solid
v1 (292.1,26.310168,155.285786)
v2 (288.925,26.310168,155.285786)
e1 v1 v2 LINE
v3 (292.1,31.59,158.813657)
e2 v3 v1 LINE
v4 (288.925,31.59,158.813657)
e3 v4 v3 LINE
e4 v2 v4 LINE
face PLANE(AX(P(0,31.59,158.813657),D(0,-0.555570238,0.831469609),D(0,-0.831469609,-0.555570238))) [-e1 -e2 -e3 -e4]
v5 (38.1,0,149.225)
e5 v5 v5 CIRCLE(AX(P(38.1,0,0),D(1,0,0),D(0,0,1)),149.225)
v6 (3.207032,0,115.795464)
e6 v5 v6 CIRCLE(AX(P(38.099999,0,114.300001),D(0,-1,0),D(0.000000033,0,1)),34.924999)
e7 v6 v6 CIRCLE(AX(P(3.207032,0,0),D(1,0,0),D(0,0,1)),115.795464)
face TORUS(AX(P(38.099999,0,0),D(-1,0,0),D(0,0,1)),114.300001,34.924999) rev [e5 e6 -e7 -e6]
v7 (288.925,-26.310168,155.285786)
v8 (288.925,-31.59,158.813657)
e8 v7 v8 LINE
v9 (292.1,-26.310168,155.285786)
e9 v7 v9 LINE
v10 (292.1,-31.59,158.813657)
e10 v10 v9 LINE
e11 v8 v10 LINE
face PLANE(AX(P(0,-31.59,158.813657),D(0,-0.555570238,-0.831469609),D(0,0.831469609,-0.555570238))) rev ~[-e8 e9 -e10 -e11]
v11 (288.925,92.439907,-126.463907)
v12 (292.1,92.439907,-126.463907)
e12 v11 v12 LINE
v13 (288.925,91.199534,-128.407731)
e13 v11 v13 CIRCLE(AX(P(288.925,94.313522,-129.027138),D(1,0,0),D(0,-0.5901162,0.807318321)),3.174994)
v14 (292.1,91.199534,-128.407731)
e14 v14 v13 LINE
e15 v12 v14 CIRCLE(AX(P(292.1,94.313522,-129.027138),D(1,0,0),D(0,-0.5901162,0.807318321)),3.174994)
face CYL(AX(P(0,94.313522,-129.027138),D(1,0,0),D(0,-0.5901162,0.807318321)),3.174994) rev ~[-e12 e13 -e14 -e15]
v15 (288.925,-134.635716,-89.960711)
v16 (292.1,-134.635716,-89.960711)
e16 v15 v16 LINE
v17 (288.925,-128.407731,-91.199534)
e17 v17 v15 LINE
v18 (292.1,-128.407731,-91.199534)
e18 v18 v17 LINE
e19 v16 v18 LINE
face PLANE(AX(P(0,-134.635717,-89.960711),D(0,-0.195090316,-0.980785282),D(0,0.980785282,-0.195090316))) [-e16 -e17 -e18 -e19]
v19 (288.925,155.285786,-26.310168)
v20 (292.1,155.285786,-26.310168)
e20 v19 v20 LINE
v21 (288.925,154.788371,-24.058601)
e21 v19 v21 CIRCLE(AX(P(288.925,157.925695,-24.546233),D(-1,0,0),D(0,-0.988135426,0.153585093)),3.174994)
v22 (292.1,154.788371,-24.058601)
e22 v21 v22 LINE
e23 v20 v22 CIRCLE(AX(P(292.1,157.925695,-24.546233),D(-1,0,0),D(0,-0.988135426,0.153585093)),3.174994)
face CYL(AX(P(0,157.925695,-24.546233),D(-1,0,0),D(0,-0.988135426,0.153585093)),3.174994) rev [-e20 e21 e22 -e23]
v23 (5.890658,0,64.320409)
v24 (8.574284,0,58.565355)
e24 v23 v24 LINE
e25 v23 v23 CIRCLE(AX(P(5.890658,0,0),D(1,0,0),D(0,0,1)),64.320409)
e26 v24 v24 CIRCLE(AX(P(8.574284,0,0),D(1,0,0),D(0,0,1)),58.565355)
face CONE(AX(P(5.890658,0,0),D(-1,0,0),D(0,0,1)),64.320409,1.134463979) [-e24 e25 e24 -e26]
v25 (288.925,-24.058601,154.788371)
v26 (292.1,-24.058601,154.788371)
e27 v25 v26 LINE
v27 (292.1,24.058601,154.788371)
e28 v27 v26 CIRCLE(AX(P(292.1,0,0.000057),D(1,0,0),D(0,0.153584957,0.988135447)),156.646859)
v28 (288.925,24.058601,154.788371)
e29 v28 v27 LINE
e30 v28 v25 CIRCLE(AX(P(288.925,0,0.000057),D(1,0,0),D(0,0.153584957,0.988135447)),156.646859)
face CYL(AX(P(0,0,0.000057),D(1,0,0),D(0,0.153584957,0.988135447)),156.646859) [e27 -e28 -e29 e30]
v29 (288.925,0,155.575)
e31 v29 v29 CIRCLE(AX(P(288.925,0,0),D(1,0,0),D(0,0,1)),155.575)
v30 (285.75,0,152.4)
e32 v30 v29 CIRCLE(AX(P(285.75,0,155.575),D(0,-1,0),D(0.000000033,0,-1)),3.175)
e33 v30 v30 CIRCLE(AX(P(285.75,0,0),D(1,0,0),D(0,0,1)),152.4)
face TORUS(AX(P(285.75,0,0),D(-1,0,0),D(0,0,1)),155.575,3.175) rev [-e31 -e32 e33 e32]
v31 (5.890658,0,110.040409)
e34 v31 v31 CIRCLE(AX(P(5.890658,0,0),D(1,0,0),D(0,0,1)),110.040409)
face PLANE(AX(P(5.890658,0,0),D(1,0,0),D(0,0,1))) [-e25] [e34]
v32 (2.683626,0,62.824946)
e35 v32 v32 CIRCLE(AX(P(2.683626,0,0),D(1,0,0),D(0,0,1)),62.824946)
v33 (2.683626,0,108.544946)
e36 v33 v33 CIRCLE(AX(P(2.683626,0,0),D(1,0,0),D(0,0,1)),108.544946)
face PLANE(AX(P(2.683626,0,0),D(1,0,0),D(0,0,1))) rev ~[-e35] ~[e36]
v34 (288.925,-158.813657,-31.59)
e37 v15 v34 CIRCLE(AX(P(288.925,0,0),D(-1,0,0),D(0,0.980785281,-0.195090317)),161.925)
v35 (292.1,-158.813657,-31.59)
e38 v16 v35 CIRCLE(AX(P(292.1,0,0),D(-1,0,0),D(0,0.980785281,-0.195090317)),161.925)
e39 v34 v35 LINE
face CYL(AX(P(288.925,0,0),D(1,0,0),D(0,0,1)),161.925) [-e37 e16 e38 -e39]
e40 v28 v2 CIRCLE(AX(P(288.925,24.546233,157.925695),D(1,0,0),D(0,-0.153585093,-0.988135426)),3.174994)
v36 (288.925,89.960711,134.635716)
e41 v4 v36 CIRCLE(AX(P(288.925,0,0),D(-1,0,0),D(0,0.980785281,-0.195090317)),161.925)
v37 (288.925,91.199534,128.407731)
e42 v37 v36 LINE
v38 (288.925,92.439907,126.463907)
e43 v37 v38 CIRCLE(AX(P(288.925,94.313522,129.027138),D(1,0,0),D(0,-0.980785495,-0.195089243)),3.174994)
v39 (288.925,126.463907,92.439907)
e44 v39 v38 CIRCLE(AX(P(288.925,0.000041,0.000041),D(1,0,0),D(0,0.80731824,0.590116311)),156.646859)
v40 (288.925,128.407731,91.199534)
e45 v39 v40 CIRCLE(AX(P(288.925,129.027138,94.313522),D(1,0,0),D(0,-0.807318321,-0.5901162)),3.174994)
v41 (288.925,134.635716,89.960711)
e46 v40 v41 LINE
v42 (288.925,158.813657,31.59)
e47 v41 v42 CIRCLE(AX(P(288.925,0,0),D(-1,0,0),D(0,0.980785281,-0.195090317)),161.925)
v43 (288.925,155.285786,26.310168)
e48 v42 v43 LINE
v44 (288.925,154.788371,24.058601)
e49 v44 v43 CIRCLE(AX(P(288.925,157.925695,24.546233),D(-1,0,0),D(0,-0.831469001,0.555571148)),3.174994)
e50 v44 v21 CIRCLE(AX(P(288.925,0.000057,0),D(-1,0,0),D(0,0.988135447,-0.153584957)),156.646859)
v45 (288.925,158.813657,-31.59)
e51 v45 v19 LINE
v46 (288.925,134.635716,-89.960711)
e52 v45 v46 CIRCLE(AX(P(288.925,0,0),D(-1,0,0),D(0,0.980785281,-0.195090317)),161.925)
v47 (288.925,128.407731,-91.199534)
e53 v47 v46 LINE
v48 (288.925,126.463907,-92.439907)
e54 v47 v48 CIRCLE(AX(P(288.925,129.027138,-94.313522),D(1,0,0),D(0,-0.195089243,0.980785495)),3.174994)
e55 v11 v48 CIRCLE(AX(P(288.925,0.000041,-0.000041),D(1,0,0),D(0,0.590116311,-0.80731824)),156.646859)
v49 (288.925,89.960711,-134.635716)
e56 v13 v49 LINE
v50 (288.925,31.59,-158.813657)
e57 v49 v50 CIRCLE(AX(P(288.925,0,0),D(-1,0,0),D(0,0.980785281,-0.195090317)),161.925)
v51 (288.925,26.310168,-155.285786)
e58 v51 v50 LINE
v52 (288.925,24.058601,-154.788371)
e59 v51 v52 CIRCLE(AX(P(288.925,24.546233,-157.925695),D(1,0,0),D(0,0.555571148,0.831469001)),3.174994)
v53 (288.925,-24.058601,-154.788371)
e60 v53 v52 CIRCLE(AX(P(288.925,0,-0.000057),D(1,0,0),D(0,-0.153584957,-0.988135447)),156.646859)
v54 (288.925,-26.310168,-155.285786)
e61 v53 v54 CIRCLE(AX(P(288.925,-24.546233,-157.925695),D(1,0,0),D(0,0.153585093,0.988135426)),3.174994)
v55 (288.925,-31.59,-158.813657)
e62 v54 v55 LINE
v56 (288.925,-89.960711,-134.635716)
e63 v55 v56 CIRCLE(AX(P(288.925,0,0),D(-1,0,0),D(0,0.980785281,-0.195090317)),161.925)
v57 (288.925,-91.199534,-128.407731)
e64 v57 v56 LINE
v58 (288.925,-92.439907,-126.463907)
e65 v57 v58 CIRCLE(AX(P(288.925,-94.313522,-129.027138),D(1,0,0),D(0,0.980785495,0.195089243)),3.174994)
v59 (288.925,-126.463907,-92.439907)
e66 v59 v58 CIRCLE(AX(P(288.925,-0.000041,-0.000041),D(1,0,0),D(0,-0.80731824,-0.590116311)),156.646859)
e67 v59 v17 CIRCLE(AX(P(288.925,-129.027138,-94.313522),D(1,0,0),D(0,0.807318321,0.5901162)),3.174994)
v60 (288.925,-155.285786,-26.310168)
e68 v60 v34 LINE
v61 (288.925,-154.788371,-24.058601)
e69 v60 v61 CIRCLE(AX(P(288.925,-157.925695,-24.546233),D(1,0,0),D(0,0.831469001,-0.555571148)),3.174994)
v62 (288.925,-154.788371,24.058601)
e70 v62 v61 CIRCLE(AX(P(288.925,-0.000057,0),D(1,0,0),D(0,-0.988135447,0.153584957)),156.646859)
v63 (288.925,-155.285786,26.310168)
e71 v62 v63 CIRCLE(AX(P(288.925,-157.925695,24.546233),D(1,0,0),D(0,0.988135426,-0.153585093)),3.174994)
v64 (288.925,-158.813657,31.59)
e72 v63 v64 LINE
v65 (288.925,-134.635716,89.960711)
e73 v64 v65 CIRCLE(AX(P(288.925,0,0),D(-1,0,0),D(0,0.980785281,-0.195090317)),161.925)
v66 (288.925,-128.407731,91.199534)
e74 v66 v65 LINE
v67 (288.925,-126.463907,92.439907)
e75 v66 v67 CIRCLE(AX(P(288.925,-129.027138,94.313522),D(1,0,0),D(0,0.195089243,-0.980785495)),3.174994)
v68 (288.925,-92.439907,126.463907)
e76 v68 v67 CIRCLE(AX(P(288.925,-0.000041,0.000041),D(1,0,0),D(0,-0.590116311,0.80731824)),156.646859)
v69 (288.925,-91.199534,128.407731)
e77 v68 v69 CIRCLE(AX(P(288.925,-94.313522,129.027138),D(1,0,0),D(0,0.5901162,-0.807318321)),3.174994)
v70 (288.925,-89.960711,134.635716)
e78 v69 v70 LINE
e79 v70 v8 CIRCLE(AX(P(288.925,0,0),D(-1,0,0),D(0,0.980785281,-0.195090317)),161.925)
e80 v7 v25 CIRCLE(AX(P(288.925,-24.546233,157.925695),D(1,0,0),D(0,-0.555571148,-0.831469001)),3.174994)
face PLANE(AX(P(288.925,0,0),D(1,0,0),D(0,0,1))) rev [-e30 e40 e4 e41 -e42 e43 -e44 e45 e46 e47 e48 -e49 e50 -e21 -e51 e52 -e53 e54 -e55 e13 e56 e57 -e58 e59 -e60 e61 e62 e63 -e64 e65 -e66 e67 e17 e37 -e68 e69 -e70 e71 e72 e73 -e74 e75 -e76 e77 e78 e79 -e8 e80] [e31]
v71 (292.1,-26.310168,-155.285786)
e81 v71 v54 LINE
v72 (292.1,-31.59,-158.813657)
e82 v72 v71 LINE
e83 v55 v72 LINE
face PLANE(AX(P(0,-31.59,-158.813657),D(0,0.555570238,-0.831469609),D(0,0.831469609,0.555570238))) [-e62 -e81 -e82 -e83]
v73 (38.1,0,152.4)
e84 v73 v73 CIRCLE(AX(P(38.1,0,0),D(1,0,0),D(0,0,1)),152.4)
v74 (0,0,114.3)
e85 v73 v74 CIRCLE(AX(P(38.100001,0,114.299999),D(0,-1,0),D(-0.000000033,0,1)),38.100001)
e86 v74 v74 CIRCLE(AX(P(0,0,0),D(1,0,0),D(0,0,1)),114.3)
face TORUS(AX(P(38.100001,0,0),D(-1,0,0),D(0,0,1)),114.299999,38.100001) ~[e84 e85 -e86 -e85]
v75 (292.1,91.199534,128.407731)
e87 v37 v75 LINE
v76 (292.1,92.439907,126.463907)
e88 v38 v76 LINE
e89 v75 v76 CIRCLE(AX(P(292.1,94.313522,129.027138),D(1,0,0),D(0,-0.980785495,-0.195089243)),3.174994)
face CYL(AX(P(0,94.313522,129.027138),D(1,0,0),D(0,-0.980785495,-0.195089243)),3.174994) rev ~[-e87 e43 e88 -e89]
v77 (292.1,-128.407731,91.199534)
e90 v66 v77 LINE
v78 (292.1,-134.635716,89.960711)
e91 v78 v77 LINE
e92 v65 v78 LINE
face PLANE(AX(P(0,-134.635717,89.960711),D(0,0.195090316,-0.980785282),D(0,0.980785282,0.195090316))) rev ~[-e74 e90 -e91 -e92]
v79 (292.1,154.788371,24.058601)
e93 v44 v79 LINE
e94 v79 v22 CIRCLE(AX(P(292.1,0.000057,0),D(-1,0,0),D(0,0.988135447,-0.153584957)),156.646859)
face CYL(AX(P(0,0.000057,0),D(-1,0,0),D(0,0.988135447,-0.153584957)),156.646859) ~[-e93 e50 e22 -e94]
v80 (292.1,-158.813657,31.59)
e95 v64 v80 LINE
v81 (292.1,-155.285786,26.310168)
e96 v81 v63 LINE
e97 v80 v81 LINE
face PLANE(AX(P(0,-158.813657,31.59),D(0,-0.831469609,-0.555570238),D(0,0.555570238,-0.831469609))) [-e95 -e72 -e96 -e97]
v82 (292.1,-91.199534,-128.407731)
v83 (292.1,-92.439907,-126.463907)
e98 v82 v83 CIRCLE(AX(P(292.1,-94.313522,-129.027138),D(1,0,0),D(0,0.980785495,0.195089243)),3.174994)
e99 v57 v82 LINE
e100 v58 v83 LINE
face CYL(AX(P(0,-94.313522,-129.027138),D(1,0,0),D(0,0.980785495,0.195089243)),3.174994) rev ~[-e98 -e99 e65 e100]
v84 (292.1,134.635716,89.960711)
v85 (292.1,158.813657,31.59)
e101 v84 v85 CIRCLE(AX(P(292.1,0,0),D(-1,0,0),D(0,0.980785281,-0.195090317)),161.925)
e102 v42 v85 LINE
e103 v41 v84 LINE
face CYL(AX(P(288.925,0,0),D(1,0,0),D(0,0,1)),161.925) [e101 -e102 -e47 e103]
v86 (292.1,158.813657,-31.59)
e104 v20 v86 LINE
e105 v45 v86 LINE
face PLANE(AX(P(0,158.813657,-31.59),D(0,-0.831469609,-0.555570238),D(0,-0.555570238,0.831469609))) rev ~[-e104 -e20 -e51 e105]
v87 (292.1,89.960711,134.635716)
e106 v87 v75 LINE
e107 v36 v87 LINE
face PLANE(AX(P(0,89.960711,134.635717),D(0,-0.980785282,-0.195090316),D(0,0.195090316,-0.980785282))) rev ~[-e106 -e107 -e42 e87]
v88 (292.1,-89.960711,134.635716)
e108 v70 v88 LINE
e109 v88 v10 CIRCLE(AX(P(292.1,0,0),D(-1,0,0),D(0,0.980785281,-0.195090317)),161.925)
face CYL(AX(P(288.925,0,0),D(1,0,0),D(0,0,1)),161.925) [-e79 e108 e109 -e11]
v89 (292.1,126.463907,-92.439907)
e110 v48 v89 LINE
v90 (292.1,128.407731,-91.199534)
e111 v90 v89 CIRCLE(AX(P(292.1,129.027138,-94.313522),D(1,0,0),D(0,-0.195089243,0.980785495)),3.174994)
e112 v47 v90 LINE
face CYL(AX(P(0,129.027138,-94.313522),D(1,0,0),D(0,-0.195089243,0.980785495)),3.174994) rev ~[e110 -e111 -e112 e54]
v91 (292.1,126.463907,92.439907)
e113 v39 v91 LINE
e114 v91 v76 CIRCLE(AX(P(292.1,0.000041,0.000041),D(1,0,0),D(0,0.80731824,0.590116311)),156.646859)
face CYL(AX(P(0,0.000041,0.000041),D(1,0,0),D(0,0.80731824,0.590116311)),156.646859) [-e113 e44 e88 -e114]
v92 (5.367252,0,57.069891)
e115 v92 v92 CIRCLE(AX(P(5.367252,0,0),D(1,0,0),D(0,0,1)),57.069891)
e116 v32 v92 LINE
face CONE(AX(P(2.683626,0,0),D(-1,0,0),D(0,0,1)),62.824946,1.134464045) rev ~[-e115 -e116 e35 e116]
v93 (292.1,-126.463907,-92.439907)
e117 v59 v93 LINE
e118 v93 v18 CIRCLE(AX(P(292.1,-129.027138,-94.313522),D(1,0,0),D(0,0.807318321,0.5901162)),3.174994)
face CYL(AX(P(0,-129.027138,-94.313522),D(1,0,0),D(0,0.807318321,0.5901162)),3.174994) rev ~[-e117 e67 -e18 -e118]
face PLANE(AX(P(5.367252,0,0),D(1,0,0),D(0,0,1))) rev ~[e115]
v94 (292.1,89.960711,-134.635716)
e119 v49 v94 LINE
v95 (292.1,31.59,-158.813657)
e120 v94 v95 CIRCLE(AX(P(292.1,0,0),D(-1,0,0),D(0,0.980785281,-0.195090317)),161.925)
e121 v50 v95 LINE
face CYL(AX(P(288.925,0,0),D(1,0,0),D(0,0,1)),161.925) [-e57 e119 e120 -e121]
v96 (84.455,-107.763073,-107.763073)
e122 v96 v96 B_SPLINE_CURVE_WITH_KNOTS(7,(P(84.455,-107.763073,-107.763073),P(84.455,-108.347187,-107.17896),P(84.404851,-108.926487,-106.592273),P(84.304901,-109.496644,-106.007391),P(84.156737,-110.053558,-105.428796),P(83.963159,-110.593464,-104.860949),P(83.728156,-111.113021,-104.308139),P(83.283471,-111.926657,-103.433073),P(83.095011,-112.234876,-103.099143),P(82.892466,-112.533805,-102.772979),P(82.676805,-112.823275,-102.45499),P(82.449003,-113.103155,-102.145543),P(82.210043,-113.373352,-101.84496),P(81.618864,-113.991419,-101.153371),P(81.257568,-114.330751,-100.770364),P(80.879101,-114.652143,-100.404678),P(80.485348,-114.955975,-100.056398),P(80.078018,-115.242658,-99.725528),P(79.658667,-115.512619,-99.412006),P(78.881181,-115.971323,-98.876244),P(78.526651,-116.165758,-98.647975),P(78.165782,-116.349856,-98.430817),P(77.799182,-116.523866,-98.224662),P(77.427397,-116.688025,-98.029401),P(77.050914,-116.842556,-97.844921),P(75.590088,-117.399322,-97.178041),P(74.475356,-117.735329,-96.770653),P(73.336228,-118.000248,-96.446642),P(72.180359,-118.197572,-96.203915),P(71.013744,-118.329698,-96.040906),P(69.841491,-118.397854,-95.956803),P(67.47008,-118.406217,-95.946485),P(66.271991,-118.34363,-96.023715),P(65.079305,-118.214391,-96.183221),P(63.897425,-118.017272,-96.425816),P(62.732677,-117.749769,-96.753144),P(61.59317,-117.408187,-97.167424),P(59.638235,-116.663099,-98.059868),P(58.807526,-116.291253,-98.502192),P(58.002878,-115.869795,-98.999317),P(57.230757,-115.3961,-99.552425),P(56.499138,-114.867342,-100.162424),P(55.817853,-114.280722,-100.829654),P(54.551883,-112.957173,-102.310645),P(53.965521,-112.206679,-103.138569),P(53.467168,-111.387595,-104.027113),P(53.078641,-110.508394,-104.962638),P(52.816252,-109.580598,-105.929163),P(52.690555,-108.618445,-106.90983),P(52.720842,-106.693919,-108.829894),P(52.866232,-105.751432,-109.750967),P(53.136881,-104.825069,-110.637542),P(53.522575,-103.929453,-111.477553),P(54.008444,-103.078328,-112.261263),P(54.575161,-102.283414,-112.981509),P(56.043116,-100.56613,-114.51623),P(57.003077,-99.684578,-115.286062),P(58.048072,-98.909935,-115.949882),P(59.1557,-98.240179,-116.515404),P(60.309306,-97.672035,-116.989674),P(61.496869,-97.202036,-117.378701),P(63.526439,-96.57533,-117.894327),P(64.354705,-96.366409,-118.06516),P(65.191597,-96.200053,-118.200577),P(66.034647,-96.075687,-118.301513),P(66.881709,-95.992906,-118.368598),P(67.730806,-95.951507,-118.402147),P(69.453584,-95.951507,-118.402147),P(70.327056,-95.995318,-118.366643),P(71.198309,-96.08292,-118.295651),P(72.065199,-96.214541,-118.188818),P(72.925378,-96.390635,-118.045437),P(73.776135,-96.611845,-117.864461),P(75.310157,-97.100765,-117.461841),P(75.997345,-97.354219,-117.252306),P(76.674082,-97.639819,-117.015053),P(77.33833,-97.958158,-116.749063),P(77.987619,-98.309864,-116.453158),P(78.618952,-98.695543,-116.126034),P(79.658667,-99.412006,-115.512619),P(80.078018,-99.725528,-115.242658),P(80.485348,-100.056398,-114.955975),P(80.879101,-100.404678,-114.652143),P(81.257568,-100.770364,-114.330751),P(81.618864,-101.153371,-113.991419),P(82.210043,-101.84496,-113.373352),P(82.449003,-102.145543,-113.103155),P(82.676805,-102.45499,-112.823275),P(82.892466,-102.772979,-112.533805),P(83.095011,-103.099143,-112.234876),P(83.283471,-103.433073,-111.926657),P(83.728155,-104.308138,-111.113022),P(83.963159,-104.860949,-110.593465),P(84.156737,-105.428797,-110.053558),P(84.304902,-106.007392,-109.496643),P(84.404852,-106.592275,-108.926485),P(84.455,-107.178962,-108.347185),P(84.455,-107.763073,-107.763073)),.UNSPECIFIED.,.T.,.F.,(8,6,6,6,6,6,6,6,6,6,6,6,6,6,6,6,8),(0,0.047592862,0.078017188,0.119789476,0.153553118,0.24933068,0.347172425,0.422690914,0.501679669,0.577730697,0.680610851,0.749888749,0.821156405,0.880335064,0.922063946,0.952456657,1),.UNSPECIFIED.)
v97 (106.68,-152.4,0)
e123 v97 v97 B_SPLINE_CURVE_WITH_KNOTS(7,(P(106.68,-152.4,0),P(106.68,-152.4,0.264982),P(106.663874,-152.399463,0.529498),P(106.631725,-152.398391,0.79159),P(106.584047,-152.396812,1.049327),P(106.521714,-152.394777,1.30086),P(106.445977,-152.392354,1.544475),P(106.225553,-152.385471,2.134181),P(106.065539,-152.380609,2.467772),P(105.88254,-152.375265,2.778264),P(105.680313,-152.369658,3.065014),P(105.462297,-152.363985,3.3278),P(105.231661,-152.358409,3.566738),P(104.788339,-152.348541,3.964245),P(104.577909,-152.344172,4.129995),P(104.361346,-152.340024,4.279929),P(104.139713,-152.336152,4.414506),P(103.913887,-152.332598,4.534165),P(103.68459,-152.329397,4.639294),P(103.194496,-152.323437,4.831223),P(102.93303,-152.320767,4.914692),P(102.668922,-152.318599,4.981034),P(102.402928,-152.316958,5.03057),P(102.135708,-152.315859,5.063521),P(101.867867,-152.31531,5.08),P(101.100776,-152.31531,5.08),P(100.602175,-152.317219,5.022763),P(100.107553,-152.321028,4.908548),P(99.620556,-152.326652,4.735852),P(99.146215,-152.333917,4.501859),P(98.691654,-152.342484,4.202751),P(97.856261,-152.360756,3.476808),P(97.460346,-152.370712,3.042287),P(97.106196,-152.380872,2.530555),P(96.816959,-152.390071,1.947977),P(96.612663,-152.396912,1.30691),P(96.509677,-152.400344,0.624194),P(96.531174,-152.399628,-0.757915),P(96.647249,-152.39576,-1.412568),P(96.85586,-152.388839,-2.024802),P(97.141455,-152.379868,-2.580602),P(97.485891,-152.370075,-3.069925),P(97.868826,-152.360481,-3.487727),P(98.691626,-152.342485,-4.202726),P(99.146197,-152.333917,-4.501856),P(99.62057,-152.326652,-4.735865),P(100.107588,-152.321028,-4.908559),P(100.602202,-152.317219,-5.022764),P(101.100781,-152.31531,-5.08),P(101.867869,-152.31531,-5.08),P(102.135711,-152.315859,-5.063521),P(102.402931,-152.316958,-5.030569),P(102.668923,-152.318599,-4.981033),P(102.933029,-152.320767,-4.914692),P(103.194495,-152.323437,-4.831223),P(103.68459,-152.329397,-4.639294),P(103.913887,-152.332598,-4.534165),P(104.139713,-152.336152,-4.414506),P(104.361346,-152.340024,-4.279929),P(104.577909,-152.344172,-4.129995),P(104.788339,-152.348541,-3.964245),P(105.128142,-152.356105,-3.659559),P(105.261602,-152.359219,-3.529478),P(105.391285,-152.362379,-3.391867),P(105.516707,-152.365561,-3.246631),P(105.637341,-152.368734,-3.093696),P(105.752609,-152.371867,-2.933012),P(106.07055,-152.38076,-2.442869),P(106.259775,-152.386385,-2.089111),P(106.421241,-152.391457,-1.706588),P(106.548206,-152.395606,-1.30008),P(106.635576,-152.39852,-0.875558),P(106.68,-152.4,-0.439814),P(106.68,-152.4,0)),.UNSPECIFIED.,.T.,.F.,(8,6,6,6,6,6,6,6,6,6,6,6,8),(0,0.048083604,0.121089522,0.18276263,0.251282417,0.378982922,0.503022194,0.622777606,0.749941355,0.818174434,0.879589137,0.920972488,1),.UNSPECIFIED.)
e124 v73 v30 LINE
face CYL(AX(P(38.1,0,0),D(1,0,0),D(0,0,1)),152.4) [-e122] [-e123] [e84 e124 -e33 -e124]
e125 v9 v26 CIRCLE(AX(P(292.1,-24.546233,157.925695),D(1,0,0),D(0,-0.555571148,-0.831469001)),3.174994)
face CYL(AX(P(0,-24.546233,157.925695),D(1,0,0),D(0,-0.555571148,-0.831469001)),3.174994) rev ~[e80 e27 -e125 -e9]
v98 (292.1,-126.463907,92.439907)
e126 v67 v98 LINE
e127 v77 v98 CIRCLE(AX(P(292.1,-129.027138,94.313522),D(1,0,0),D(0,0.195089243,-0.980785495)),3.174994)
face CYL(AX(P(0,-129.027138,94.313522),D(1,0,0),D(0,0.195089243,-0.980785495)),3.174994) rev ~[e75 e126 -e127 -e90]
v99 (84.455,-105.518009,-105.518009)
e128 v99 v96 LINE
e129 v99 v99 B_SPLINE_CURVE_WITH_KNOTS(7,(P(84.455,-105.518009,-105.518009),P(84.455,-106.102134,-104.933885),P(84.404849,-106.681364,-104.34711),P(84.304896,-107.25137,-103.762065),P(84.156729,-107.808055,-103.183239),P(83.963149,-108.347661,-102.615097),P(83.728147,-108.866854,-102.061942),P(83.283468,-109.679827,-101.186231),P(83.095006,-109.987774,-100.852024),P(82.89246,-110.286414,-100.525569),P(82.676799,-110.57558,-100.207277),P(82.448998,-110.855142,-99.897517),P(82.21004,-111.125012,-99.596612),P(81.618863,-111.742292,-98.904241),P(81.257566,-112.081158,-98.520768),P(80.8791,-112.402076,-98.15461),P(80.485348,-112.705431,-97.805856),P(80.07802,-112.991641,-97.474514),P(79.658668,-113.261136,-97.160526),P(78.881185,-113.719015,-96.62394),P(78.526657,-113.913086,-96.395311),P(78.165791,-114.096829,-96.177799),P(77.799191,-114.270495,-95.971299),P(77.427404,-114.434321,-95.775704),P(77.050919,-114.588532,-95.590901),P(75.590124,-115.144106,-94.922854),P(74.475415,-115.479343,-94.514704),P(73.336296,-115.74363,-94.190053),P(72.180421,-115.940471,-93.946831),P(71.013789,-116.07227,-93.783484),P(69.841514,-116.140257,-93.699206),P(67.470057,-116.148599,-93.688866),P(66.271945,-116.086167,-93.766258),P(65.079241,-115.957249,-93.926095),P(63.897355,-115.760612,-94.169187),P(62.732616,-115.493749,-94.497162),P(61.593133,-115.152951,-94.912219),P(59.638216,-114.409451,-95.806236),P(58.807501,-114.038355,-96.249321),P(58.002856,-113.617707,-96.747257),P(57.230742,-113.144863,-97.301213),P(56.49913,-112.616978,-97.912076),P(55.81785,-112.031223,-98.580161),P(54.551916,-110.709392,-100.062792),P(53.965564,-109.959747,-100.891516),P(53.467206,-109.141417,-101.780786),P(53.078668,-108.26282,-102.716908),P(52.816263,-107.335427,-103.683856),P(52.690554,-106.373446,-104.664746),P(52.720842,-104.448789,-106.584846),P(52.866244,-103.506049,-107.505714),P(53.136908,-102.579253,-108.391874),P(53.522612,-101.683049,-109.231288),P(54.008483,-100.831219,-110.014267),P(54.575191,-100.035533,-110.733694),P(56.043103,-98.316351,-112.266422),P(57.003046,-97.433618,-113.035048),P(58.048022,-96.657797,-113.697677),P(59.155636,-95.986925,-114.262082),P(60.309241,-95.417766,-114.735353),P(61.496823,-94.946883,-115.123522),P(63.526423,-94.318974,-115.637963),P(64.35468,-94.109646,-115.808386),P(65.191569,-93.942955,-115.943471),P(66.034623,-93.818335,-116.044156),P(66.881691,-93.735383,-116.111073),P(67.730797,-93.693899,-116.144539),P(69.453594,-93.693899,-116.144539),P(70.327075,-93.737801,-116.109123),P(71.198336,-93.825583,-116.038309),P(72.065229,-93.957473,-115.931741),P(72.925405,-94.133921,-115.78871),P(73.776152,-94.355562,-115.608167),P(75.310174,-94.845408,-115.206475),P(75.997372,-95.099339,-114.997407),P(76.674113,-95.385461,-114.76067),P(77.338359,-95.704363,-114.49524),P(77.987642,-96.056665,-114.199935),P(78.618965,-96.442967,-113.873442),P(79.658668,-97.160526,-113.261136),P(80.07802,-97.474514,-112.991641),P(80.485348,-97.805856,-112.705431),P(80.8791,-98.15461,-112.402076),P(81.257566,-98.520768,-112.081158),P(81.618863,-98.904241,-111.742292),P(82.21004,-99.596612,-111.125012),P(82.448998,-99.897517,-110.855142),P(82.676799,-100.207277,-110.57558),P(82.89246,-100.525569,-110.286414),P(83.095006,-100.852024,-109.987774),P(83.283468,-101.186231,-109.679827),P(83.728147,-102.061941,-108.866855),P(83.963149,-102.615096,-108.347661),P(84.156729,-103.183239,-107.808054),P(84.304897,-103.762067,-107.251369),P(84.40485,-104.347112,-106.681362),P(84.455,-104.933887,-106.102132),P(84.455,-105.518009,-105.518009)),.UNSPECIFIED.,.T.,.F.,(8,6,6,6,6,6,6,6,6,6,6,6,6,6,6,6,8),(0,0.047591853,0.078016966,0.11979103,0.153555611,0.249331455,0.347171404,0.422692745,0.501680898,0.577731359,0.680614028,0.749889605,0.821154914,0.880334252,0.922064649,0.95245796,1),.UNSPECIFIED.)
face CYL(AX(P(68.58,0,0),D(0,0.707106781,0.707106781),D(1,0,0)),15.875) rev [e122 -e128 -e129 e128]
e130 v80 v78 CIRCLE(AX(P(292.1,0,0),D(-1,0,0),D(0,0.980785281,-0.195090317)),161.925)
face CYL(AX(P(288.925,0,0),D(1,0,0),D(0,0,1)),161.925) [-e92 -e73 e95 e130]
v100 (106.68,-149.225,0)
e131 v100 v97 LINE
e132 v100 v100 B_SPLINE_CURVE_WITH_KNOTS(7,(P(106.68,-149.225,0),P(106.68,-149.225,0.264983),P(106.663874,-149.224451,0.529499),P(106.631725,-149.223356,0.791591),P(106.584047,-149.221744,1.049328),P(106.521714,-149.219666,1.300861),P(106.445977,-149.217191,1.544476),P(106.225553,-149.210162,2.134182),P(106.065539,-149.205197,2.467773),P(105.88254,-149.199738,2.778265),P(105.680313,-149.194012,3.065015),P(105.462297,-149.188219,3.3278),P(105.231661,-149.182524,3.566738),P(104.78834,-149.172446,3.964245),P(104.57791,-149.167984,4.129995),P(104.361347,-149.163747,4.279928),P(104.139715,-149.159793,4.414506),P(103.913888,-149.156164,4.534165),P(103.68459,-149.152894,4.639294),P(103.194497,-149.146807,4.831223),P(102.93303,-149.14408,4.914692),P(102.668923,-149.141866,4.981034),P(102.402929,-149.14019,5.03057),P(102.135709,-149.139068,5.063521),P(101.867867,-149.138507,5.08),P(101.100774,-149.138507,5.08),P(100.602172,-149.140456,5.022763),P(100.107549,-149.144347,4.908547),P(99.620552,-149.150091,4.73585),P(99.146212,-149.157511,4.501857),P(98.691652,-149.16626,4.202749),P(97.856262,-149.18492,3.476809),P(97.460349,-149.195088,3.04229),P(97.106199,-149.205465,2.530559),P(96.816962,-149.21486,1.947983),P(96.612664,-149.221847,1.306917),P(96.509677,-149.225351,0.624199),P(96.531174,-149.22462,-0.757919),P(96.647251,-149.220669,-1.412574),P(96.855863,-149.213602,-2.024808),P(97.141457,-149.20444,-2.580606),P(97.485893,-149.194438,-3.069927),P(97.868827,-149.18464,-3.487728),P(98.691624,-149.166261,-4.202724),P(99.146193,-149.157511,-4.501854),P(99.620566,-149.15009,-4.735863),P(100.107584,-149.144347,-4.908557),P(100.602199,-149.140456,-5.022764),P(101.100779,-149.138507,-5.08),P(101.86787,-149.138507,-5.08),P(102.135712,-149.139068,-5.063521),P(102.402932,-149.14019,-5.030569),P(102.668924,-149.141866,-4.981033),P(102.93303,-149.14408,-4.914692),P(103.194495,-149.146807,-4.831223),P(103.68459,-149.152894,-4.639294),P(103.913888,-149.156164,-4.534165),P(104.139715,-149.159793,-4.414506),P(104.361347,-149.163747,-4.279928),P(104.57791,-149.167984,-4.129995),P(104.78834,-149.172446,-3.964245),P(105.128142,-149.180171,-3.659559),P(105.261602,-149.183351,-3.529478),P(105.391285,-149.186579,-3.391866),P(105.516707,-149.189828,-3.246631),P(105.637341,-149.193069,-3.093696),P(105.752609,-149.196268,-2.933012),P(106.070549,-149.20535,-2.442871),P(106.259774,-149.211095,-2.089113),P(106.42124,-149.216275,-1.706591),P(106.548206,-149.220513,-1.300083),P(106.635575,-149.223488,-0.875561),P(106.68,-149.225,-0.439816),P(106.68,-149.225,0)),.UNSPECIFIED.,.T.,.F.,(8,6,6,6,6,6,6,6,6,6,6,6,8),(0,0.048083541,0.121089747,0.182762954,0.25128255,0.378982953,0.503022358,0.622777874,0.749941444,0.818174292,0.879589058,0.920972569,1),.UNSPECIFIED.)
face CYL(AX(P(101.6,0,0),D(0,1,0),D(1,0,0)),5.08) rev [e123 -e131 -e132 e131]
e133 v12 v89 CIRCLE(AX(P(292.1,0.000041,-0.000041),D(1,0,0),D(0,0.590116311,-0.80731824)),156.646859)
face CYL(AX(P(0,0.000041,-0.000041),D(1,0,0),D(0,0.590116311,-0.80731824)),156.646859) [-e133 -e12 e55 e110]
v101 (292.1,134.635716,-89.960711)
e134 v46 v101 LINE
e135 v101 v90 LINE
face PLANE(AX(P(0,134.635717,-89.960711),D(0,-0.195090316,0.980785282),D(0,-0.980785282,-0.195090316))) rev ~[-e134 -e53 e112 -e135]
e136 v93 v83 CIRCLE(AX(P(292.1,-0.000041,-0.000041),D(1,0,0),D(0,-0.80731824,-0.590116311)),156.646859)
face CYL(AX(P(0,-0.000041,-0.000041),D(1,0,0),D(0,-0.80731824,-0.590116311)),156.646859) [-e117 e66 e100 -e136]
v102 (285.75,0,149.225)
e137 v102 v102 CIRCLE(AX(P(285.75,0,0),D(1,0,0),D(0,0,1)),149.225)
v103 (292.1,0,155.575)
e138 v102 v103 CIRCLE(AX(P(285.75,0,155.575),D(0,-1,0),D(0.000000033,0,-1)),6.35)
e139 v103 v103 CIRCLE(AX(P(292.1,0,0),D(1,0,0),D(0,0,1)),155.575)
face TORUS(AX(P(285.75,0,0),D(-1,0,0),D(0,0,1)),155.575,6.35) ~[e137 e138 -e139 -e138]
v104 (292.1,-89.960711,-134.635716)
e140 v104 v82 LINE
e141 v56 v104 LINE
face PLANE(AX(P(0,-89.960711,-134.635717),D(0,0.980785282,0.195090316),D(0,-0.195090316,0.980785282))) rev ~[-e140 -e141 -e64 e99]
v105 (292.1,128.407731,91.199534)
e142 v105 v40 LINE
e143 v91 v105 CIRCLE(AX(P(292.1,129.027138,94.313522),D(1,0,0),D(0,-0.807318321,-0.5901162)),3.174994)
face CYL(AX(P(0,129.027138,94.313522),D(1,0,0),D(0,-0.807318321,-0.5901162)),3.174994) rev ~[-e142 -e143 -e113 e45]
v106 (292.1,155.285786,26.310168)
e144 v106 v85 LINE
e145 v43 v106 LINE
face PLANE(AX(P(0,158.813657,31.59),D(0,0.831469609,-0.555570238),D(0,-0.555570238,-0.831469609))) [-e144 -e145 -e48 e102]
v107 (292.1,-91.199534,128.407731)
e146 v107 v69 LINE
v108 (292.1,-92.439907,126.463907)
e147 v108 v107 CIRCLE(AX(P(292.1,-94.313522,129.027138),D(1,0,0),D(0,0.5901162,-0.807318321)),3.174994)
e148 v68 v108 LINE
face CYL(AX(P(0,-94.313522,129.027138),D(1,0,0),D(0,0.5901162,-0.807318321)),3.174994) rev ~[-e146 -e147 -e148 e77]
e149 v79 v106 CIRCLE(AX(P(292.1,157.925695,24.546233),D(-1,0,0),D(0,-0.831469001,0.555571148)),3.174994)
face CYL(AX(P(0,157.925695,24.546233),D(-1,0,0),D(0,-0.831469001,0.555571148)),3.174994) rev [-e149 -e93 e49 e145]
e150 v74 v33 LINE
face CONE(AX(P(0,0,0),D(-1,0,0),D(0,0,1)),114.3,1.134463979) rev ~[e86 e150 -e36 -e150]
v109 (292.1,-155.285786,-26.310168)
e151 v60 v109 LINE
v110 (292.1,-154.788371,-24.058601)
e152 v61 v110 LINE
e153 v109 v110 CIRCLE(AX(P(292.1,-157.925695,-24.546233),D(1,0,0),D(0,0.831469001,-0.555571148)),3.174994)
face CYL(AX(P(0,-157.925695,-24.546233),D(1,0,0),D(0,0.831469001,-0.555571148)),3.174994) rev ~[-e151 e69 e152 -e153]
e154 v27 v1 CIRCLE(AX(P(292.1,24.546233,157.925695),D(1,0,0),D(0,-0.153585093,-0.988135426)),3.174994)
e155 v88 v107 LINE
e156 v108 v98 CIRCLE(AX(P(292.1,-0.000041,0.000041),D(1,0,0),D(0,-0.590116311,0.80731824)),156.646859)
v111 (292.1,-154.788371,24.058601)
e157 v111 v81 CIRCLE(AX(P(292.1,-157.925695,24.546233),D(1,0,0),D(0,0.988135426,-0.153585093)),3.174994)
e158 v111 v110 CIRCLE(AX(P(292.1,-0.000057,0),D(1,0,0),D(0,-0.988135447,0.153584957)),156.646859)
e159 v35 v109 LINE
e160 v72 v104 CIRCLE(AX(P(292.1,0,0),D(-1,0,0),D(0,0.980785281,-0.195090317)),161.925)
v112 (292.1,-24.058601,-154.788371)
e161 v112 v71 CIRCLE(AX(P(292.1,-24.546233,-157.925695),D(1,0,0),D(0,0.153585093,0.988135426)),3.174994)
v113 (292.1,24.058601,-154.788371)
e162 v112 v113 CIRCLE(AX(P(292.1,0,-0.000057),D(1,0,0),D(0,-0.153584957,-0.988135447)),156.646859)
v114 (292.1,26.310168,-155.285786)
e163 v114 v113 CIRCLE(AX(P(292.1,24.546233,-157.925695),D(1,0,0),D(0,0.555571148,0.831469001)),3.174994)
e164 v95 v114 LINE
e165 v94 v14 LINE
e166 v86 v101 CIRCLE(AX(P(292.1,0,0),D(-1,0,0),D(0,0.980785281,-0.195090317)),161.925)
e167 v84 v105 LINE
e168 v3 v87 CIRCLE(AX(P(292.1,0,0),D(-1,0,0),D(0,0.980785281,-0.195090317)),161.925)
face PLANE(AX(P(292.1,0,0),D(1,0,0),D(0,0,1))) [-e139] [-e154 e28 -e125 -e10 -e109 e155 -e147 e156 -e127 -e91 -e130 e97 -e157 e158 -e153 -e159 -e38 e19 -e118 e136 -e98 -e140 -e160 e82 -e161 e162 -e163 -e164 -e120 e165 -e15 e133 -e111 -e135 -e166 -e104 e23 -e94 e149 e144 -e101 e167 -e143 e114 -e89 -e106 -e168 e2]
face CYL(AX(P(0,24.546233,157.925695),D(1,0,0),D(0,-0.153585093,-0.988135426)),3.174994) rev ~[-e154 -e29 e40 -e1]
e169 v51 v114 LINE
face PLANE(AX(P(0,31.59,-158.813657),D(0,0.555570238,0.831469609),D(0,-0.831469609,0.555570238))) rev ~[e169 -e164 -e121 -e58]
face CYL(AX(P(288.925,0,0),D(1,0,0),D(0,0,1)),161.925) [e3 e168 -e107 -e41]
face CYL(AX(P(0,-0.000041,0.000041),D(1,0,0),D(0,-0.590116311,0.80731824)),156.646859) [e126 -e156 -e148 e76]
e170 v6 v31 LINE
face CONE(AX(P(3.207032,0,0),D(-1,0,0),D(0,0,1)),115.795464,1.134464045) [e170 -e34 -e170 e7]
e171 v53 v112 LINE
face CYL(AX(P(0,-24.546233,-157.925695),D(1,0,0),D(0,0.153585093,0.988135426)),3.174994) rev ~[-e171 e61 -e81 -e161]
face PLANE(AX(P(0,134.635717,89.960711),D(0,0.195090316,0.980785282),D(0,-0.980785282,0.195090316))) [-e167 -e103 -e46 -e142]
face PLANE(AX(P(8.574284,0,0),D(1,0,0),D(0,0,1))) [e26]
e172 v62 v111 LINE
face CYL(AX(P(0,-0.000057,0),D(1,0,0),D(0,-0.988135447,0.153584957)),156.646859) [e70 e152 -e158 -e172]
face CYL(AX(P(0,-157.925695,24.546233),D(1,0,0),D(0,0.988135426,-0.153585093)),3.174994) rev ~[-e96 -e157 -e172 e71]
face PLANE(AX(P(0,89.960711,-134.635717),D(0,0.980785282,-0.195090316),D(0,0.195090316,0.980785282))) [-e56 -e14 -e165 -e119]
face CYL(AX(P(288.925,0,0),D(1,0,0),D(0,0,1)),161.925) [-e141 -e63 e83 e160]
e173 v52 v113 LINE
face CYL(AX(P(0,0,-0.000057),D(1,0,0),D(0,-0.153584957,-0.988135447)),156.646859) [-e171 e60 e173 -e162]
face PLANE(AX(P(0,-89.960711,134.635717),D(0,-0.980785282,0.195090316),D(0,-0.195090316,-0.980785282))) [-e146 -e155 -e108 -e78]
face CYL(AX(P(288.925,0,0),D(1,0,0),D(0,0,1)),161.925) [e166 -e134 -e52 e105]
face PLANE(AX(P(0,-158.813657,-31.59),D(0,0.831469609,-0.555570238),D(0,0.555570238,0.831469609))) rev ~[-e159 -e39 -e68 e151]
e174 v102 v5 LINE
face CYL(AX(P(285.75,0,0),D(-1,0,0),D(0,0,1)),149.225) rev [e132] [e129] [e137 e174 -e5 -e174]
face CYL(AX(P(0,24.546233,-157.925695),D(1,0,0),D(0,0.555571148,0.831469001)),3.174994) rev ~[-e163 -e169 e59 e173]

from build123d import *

# Parameters (mm, degrees)
SKETCH052_R          = 5.08
POCKET_DEPTH         = 161.926
POCKET013_DEPTH      = 1086.426433
POCKET013_DEPTH_BACK = 1378.526433
POLARPATTERN_COUNT   = 8
SKETCH080_R          = 15.875
POCKET014_DEPTH      = 224.597427


with BuildPart() as part:
    # Sketch003 → Revolution (revolve)
    with BuildSketch(Plane.XZ):
        with BuildLine():
            ThreePointArc((38.1, 152.4), (11.159232, 141.240768), (0, 114.3))
            Line((0, 114.3), (2.683626, 108.544946))
            Line((2.683626, 108.544946), (2.683626, 62.824946))
            Line((2.683626, 62.824946), (5.367252, 57.069891))
            Line((5.367252, 57.069891), (5.367252, 0))
            Line((5.367252, 0), (8.574284, 0))
            Line((8.574284, 58.565355), (8.574284, 0))
            Line((5.890658, 64.320409), (8.574284, 58.565355))
            Line((5.890658, 110.040409), (5.890658, 64.320409))
            Line((3.207032, 115.795464), (5.890658, 110.040409))
            ThreePointArc((38.1, 149.225), (13.938806, 139.518889), (3.207032, 115.795464))
            Line((285.75, 149.225), (38.1, 149.225))
            ThreePointArc((285.75, 149.225), (290.240128, 151.084872), (292.1, 155.575))
            Line((292.1, 161.925), (292.1, 155.575))
            Line((288.925, 161.925), (292.1, 161.925))
            Line((288.925, 155.575), (288.925, 161.925))
            ThreePointArc((285.75, 152.4), (287.995064, 153.329936), (288.925, 155.575))
            Line((38.1, 152.4), (285.75, 152.4))
        make_face()
    revolve(axis=Axis((0, 0, 0), (1, 0, 0)))

    # Sketch052 → Pocket (cut, through all)
    with BuildSketch(Plane.XZ):
        with Locations((101.6, 0)):
            Circle(SKETCH052_R)
    extrude(amount=POCKET_DEPTH, mode=Mode.SUBTRACT)

    # Sketch004 → Pocket013 (cut, two sides)
    with BuildSketch(Plane.YZ) as pocket013_sk:
        with BuildLine():
            Line((158.813657, 31.59), (155.285786, 26.310168))
            ThreePointArc((155.285786, 26.310168), (154.825454, 25.231136), (154.788371, 24.058601))
            ThreePointArc((154.788371, -24.058601), (156.646916, 0), (154.788371, 24.058601))
            ThreePointArc((154.788371, -24.058601), (154.825454, -25.231136), (155.285786, -26.310168))
            Line((158.813657, -31.59), (155.285786, -26.310168))
            ThreePointArc((158.813657, -31.59), (161.925, 0), (158.813657, 31.59))
        make_face()
    pocket013 = extrude(amount=-POCKET013_DEPTH, mode=Mode.SUBTRACT) + extrude(pocket013_sk.sketch, amount=POCKET013_DEPTH_BACK, mode=Mode.SUBTRACT)

    # PolarPattern: Pocket013 ×8 about axis
    polarpattern_axis = Axis((0, 0, 0), (1, 0, 0))
    for i in range(1, POLARPATTERN_COUNT):
        add(pocket013.rotate(polarpattern_axis, i * 360 / POLARPATTERN_COUNT), mode=Mode.SUBTRACT)

    # Sketch080 (on DatumPlane) → Pocket014 (cut, through all)
    with BuildSketch(Plane(origin=(0, 0, 0), x_dir=(1, 0, 0), z_dir=(0, -0.707107, -0.707107))):
        with Locations((68.58, 0)):
            Circle(SKETCH080_R)
    extrude(amount=POCKET014_DEPTH, mode=Mode.SUBTRACT)


solid = part.part
